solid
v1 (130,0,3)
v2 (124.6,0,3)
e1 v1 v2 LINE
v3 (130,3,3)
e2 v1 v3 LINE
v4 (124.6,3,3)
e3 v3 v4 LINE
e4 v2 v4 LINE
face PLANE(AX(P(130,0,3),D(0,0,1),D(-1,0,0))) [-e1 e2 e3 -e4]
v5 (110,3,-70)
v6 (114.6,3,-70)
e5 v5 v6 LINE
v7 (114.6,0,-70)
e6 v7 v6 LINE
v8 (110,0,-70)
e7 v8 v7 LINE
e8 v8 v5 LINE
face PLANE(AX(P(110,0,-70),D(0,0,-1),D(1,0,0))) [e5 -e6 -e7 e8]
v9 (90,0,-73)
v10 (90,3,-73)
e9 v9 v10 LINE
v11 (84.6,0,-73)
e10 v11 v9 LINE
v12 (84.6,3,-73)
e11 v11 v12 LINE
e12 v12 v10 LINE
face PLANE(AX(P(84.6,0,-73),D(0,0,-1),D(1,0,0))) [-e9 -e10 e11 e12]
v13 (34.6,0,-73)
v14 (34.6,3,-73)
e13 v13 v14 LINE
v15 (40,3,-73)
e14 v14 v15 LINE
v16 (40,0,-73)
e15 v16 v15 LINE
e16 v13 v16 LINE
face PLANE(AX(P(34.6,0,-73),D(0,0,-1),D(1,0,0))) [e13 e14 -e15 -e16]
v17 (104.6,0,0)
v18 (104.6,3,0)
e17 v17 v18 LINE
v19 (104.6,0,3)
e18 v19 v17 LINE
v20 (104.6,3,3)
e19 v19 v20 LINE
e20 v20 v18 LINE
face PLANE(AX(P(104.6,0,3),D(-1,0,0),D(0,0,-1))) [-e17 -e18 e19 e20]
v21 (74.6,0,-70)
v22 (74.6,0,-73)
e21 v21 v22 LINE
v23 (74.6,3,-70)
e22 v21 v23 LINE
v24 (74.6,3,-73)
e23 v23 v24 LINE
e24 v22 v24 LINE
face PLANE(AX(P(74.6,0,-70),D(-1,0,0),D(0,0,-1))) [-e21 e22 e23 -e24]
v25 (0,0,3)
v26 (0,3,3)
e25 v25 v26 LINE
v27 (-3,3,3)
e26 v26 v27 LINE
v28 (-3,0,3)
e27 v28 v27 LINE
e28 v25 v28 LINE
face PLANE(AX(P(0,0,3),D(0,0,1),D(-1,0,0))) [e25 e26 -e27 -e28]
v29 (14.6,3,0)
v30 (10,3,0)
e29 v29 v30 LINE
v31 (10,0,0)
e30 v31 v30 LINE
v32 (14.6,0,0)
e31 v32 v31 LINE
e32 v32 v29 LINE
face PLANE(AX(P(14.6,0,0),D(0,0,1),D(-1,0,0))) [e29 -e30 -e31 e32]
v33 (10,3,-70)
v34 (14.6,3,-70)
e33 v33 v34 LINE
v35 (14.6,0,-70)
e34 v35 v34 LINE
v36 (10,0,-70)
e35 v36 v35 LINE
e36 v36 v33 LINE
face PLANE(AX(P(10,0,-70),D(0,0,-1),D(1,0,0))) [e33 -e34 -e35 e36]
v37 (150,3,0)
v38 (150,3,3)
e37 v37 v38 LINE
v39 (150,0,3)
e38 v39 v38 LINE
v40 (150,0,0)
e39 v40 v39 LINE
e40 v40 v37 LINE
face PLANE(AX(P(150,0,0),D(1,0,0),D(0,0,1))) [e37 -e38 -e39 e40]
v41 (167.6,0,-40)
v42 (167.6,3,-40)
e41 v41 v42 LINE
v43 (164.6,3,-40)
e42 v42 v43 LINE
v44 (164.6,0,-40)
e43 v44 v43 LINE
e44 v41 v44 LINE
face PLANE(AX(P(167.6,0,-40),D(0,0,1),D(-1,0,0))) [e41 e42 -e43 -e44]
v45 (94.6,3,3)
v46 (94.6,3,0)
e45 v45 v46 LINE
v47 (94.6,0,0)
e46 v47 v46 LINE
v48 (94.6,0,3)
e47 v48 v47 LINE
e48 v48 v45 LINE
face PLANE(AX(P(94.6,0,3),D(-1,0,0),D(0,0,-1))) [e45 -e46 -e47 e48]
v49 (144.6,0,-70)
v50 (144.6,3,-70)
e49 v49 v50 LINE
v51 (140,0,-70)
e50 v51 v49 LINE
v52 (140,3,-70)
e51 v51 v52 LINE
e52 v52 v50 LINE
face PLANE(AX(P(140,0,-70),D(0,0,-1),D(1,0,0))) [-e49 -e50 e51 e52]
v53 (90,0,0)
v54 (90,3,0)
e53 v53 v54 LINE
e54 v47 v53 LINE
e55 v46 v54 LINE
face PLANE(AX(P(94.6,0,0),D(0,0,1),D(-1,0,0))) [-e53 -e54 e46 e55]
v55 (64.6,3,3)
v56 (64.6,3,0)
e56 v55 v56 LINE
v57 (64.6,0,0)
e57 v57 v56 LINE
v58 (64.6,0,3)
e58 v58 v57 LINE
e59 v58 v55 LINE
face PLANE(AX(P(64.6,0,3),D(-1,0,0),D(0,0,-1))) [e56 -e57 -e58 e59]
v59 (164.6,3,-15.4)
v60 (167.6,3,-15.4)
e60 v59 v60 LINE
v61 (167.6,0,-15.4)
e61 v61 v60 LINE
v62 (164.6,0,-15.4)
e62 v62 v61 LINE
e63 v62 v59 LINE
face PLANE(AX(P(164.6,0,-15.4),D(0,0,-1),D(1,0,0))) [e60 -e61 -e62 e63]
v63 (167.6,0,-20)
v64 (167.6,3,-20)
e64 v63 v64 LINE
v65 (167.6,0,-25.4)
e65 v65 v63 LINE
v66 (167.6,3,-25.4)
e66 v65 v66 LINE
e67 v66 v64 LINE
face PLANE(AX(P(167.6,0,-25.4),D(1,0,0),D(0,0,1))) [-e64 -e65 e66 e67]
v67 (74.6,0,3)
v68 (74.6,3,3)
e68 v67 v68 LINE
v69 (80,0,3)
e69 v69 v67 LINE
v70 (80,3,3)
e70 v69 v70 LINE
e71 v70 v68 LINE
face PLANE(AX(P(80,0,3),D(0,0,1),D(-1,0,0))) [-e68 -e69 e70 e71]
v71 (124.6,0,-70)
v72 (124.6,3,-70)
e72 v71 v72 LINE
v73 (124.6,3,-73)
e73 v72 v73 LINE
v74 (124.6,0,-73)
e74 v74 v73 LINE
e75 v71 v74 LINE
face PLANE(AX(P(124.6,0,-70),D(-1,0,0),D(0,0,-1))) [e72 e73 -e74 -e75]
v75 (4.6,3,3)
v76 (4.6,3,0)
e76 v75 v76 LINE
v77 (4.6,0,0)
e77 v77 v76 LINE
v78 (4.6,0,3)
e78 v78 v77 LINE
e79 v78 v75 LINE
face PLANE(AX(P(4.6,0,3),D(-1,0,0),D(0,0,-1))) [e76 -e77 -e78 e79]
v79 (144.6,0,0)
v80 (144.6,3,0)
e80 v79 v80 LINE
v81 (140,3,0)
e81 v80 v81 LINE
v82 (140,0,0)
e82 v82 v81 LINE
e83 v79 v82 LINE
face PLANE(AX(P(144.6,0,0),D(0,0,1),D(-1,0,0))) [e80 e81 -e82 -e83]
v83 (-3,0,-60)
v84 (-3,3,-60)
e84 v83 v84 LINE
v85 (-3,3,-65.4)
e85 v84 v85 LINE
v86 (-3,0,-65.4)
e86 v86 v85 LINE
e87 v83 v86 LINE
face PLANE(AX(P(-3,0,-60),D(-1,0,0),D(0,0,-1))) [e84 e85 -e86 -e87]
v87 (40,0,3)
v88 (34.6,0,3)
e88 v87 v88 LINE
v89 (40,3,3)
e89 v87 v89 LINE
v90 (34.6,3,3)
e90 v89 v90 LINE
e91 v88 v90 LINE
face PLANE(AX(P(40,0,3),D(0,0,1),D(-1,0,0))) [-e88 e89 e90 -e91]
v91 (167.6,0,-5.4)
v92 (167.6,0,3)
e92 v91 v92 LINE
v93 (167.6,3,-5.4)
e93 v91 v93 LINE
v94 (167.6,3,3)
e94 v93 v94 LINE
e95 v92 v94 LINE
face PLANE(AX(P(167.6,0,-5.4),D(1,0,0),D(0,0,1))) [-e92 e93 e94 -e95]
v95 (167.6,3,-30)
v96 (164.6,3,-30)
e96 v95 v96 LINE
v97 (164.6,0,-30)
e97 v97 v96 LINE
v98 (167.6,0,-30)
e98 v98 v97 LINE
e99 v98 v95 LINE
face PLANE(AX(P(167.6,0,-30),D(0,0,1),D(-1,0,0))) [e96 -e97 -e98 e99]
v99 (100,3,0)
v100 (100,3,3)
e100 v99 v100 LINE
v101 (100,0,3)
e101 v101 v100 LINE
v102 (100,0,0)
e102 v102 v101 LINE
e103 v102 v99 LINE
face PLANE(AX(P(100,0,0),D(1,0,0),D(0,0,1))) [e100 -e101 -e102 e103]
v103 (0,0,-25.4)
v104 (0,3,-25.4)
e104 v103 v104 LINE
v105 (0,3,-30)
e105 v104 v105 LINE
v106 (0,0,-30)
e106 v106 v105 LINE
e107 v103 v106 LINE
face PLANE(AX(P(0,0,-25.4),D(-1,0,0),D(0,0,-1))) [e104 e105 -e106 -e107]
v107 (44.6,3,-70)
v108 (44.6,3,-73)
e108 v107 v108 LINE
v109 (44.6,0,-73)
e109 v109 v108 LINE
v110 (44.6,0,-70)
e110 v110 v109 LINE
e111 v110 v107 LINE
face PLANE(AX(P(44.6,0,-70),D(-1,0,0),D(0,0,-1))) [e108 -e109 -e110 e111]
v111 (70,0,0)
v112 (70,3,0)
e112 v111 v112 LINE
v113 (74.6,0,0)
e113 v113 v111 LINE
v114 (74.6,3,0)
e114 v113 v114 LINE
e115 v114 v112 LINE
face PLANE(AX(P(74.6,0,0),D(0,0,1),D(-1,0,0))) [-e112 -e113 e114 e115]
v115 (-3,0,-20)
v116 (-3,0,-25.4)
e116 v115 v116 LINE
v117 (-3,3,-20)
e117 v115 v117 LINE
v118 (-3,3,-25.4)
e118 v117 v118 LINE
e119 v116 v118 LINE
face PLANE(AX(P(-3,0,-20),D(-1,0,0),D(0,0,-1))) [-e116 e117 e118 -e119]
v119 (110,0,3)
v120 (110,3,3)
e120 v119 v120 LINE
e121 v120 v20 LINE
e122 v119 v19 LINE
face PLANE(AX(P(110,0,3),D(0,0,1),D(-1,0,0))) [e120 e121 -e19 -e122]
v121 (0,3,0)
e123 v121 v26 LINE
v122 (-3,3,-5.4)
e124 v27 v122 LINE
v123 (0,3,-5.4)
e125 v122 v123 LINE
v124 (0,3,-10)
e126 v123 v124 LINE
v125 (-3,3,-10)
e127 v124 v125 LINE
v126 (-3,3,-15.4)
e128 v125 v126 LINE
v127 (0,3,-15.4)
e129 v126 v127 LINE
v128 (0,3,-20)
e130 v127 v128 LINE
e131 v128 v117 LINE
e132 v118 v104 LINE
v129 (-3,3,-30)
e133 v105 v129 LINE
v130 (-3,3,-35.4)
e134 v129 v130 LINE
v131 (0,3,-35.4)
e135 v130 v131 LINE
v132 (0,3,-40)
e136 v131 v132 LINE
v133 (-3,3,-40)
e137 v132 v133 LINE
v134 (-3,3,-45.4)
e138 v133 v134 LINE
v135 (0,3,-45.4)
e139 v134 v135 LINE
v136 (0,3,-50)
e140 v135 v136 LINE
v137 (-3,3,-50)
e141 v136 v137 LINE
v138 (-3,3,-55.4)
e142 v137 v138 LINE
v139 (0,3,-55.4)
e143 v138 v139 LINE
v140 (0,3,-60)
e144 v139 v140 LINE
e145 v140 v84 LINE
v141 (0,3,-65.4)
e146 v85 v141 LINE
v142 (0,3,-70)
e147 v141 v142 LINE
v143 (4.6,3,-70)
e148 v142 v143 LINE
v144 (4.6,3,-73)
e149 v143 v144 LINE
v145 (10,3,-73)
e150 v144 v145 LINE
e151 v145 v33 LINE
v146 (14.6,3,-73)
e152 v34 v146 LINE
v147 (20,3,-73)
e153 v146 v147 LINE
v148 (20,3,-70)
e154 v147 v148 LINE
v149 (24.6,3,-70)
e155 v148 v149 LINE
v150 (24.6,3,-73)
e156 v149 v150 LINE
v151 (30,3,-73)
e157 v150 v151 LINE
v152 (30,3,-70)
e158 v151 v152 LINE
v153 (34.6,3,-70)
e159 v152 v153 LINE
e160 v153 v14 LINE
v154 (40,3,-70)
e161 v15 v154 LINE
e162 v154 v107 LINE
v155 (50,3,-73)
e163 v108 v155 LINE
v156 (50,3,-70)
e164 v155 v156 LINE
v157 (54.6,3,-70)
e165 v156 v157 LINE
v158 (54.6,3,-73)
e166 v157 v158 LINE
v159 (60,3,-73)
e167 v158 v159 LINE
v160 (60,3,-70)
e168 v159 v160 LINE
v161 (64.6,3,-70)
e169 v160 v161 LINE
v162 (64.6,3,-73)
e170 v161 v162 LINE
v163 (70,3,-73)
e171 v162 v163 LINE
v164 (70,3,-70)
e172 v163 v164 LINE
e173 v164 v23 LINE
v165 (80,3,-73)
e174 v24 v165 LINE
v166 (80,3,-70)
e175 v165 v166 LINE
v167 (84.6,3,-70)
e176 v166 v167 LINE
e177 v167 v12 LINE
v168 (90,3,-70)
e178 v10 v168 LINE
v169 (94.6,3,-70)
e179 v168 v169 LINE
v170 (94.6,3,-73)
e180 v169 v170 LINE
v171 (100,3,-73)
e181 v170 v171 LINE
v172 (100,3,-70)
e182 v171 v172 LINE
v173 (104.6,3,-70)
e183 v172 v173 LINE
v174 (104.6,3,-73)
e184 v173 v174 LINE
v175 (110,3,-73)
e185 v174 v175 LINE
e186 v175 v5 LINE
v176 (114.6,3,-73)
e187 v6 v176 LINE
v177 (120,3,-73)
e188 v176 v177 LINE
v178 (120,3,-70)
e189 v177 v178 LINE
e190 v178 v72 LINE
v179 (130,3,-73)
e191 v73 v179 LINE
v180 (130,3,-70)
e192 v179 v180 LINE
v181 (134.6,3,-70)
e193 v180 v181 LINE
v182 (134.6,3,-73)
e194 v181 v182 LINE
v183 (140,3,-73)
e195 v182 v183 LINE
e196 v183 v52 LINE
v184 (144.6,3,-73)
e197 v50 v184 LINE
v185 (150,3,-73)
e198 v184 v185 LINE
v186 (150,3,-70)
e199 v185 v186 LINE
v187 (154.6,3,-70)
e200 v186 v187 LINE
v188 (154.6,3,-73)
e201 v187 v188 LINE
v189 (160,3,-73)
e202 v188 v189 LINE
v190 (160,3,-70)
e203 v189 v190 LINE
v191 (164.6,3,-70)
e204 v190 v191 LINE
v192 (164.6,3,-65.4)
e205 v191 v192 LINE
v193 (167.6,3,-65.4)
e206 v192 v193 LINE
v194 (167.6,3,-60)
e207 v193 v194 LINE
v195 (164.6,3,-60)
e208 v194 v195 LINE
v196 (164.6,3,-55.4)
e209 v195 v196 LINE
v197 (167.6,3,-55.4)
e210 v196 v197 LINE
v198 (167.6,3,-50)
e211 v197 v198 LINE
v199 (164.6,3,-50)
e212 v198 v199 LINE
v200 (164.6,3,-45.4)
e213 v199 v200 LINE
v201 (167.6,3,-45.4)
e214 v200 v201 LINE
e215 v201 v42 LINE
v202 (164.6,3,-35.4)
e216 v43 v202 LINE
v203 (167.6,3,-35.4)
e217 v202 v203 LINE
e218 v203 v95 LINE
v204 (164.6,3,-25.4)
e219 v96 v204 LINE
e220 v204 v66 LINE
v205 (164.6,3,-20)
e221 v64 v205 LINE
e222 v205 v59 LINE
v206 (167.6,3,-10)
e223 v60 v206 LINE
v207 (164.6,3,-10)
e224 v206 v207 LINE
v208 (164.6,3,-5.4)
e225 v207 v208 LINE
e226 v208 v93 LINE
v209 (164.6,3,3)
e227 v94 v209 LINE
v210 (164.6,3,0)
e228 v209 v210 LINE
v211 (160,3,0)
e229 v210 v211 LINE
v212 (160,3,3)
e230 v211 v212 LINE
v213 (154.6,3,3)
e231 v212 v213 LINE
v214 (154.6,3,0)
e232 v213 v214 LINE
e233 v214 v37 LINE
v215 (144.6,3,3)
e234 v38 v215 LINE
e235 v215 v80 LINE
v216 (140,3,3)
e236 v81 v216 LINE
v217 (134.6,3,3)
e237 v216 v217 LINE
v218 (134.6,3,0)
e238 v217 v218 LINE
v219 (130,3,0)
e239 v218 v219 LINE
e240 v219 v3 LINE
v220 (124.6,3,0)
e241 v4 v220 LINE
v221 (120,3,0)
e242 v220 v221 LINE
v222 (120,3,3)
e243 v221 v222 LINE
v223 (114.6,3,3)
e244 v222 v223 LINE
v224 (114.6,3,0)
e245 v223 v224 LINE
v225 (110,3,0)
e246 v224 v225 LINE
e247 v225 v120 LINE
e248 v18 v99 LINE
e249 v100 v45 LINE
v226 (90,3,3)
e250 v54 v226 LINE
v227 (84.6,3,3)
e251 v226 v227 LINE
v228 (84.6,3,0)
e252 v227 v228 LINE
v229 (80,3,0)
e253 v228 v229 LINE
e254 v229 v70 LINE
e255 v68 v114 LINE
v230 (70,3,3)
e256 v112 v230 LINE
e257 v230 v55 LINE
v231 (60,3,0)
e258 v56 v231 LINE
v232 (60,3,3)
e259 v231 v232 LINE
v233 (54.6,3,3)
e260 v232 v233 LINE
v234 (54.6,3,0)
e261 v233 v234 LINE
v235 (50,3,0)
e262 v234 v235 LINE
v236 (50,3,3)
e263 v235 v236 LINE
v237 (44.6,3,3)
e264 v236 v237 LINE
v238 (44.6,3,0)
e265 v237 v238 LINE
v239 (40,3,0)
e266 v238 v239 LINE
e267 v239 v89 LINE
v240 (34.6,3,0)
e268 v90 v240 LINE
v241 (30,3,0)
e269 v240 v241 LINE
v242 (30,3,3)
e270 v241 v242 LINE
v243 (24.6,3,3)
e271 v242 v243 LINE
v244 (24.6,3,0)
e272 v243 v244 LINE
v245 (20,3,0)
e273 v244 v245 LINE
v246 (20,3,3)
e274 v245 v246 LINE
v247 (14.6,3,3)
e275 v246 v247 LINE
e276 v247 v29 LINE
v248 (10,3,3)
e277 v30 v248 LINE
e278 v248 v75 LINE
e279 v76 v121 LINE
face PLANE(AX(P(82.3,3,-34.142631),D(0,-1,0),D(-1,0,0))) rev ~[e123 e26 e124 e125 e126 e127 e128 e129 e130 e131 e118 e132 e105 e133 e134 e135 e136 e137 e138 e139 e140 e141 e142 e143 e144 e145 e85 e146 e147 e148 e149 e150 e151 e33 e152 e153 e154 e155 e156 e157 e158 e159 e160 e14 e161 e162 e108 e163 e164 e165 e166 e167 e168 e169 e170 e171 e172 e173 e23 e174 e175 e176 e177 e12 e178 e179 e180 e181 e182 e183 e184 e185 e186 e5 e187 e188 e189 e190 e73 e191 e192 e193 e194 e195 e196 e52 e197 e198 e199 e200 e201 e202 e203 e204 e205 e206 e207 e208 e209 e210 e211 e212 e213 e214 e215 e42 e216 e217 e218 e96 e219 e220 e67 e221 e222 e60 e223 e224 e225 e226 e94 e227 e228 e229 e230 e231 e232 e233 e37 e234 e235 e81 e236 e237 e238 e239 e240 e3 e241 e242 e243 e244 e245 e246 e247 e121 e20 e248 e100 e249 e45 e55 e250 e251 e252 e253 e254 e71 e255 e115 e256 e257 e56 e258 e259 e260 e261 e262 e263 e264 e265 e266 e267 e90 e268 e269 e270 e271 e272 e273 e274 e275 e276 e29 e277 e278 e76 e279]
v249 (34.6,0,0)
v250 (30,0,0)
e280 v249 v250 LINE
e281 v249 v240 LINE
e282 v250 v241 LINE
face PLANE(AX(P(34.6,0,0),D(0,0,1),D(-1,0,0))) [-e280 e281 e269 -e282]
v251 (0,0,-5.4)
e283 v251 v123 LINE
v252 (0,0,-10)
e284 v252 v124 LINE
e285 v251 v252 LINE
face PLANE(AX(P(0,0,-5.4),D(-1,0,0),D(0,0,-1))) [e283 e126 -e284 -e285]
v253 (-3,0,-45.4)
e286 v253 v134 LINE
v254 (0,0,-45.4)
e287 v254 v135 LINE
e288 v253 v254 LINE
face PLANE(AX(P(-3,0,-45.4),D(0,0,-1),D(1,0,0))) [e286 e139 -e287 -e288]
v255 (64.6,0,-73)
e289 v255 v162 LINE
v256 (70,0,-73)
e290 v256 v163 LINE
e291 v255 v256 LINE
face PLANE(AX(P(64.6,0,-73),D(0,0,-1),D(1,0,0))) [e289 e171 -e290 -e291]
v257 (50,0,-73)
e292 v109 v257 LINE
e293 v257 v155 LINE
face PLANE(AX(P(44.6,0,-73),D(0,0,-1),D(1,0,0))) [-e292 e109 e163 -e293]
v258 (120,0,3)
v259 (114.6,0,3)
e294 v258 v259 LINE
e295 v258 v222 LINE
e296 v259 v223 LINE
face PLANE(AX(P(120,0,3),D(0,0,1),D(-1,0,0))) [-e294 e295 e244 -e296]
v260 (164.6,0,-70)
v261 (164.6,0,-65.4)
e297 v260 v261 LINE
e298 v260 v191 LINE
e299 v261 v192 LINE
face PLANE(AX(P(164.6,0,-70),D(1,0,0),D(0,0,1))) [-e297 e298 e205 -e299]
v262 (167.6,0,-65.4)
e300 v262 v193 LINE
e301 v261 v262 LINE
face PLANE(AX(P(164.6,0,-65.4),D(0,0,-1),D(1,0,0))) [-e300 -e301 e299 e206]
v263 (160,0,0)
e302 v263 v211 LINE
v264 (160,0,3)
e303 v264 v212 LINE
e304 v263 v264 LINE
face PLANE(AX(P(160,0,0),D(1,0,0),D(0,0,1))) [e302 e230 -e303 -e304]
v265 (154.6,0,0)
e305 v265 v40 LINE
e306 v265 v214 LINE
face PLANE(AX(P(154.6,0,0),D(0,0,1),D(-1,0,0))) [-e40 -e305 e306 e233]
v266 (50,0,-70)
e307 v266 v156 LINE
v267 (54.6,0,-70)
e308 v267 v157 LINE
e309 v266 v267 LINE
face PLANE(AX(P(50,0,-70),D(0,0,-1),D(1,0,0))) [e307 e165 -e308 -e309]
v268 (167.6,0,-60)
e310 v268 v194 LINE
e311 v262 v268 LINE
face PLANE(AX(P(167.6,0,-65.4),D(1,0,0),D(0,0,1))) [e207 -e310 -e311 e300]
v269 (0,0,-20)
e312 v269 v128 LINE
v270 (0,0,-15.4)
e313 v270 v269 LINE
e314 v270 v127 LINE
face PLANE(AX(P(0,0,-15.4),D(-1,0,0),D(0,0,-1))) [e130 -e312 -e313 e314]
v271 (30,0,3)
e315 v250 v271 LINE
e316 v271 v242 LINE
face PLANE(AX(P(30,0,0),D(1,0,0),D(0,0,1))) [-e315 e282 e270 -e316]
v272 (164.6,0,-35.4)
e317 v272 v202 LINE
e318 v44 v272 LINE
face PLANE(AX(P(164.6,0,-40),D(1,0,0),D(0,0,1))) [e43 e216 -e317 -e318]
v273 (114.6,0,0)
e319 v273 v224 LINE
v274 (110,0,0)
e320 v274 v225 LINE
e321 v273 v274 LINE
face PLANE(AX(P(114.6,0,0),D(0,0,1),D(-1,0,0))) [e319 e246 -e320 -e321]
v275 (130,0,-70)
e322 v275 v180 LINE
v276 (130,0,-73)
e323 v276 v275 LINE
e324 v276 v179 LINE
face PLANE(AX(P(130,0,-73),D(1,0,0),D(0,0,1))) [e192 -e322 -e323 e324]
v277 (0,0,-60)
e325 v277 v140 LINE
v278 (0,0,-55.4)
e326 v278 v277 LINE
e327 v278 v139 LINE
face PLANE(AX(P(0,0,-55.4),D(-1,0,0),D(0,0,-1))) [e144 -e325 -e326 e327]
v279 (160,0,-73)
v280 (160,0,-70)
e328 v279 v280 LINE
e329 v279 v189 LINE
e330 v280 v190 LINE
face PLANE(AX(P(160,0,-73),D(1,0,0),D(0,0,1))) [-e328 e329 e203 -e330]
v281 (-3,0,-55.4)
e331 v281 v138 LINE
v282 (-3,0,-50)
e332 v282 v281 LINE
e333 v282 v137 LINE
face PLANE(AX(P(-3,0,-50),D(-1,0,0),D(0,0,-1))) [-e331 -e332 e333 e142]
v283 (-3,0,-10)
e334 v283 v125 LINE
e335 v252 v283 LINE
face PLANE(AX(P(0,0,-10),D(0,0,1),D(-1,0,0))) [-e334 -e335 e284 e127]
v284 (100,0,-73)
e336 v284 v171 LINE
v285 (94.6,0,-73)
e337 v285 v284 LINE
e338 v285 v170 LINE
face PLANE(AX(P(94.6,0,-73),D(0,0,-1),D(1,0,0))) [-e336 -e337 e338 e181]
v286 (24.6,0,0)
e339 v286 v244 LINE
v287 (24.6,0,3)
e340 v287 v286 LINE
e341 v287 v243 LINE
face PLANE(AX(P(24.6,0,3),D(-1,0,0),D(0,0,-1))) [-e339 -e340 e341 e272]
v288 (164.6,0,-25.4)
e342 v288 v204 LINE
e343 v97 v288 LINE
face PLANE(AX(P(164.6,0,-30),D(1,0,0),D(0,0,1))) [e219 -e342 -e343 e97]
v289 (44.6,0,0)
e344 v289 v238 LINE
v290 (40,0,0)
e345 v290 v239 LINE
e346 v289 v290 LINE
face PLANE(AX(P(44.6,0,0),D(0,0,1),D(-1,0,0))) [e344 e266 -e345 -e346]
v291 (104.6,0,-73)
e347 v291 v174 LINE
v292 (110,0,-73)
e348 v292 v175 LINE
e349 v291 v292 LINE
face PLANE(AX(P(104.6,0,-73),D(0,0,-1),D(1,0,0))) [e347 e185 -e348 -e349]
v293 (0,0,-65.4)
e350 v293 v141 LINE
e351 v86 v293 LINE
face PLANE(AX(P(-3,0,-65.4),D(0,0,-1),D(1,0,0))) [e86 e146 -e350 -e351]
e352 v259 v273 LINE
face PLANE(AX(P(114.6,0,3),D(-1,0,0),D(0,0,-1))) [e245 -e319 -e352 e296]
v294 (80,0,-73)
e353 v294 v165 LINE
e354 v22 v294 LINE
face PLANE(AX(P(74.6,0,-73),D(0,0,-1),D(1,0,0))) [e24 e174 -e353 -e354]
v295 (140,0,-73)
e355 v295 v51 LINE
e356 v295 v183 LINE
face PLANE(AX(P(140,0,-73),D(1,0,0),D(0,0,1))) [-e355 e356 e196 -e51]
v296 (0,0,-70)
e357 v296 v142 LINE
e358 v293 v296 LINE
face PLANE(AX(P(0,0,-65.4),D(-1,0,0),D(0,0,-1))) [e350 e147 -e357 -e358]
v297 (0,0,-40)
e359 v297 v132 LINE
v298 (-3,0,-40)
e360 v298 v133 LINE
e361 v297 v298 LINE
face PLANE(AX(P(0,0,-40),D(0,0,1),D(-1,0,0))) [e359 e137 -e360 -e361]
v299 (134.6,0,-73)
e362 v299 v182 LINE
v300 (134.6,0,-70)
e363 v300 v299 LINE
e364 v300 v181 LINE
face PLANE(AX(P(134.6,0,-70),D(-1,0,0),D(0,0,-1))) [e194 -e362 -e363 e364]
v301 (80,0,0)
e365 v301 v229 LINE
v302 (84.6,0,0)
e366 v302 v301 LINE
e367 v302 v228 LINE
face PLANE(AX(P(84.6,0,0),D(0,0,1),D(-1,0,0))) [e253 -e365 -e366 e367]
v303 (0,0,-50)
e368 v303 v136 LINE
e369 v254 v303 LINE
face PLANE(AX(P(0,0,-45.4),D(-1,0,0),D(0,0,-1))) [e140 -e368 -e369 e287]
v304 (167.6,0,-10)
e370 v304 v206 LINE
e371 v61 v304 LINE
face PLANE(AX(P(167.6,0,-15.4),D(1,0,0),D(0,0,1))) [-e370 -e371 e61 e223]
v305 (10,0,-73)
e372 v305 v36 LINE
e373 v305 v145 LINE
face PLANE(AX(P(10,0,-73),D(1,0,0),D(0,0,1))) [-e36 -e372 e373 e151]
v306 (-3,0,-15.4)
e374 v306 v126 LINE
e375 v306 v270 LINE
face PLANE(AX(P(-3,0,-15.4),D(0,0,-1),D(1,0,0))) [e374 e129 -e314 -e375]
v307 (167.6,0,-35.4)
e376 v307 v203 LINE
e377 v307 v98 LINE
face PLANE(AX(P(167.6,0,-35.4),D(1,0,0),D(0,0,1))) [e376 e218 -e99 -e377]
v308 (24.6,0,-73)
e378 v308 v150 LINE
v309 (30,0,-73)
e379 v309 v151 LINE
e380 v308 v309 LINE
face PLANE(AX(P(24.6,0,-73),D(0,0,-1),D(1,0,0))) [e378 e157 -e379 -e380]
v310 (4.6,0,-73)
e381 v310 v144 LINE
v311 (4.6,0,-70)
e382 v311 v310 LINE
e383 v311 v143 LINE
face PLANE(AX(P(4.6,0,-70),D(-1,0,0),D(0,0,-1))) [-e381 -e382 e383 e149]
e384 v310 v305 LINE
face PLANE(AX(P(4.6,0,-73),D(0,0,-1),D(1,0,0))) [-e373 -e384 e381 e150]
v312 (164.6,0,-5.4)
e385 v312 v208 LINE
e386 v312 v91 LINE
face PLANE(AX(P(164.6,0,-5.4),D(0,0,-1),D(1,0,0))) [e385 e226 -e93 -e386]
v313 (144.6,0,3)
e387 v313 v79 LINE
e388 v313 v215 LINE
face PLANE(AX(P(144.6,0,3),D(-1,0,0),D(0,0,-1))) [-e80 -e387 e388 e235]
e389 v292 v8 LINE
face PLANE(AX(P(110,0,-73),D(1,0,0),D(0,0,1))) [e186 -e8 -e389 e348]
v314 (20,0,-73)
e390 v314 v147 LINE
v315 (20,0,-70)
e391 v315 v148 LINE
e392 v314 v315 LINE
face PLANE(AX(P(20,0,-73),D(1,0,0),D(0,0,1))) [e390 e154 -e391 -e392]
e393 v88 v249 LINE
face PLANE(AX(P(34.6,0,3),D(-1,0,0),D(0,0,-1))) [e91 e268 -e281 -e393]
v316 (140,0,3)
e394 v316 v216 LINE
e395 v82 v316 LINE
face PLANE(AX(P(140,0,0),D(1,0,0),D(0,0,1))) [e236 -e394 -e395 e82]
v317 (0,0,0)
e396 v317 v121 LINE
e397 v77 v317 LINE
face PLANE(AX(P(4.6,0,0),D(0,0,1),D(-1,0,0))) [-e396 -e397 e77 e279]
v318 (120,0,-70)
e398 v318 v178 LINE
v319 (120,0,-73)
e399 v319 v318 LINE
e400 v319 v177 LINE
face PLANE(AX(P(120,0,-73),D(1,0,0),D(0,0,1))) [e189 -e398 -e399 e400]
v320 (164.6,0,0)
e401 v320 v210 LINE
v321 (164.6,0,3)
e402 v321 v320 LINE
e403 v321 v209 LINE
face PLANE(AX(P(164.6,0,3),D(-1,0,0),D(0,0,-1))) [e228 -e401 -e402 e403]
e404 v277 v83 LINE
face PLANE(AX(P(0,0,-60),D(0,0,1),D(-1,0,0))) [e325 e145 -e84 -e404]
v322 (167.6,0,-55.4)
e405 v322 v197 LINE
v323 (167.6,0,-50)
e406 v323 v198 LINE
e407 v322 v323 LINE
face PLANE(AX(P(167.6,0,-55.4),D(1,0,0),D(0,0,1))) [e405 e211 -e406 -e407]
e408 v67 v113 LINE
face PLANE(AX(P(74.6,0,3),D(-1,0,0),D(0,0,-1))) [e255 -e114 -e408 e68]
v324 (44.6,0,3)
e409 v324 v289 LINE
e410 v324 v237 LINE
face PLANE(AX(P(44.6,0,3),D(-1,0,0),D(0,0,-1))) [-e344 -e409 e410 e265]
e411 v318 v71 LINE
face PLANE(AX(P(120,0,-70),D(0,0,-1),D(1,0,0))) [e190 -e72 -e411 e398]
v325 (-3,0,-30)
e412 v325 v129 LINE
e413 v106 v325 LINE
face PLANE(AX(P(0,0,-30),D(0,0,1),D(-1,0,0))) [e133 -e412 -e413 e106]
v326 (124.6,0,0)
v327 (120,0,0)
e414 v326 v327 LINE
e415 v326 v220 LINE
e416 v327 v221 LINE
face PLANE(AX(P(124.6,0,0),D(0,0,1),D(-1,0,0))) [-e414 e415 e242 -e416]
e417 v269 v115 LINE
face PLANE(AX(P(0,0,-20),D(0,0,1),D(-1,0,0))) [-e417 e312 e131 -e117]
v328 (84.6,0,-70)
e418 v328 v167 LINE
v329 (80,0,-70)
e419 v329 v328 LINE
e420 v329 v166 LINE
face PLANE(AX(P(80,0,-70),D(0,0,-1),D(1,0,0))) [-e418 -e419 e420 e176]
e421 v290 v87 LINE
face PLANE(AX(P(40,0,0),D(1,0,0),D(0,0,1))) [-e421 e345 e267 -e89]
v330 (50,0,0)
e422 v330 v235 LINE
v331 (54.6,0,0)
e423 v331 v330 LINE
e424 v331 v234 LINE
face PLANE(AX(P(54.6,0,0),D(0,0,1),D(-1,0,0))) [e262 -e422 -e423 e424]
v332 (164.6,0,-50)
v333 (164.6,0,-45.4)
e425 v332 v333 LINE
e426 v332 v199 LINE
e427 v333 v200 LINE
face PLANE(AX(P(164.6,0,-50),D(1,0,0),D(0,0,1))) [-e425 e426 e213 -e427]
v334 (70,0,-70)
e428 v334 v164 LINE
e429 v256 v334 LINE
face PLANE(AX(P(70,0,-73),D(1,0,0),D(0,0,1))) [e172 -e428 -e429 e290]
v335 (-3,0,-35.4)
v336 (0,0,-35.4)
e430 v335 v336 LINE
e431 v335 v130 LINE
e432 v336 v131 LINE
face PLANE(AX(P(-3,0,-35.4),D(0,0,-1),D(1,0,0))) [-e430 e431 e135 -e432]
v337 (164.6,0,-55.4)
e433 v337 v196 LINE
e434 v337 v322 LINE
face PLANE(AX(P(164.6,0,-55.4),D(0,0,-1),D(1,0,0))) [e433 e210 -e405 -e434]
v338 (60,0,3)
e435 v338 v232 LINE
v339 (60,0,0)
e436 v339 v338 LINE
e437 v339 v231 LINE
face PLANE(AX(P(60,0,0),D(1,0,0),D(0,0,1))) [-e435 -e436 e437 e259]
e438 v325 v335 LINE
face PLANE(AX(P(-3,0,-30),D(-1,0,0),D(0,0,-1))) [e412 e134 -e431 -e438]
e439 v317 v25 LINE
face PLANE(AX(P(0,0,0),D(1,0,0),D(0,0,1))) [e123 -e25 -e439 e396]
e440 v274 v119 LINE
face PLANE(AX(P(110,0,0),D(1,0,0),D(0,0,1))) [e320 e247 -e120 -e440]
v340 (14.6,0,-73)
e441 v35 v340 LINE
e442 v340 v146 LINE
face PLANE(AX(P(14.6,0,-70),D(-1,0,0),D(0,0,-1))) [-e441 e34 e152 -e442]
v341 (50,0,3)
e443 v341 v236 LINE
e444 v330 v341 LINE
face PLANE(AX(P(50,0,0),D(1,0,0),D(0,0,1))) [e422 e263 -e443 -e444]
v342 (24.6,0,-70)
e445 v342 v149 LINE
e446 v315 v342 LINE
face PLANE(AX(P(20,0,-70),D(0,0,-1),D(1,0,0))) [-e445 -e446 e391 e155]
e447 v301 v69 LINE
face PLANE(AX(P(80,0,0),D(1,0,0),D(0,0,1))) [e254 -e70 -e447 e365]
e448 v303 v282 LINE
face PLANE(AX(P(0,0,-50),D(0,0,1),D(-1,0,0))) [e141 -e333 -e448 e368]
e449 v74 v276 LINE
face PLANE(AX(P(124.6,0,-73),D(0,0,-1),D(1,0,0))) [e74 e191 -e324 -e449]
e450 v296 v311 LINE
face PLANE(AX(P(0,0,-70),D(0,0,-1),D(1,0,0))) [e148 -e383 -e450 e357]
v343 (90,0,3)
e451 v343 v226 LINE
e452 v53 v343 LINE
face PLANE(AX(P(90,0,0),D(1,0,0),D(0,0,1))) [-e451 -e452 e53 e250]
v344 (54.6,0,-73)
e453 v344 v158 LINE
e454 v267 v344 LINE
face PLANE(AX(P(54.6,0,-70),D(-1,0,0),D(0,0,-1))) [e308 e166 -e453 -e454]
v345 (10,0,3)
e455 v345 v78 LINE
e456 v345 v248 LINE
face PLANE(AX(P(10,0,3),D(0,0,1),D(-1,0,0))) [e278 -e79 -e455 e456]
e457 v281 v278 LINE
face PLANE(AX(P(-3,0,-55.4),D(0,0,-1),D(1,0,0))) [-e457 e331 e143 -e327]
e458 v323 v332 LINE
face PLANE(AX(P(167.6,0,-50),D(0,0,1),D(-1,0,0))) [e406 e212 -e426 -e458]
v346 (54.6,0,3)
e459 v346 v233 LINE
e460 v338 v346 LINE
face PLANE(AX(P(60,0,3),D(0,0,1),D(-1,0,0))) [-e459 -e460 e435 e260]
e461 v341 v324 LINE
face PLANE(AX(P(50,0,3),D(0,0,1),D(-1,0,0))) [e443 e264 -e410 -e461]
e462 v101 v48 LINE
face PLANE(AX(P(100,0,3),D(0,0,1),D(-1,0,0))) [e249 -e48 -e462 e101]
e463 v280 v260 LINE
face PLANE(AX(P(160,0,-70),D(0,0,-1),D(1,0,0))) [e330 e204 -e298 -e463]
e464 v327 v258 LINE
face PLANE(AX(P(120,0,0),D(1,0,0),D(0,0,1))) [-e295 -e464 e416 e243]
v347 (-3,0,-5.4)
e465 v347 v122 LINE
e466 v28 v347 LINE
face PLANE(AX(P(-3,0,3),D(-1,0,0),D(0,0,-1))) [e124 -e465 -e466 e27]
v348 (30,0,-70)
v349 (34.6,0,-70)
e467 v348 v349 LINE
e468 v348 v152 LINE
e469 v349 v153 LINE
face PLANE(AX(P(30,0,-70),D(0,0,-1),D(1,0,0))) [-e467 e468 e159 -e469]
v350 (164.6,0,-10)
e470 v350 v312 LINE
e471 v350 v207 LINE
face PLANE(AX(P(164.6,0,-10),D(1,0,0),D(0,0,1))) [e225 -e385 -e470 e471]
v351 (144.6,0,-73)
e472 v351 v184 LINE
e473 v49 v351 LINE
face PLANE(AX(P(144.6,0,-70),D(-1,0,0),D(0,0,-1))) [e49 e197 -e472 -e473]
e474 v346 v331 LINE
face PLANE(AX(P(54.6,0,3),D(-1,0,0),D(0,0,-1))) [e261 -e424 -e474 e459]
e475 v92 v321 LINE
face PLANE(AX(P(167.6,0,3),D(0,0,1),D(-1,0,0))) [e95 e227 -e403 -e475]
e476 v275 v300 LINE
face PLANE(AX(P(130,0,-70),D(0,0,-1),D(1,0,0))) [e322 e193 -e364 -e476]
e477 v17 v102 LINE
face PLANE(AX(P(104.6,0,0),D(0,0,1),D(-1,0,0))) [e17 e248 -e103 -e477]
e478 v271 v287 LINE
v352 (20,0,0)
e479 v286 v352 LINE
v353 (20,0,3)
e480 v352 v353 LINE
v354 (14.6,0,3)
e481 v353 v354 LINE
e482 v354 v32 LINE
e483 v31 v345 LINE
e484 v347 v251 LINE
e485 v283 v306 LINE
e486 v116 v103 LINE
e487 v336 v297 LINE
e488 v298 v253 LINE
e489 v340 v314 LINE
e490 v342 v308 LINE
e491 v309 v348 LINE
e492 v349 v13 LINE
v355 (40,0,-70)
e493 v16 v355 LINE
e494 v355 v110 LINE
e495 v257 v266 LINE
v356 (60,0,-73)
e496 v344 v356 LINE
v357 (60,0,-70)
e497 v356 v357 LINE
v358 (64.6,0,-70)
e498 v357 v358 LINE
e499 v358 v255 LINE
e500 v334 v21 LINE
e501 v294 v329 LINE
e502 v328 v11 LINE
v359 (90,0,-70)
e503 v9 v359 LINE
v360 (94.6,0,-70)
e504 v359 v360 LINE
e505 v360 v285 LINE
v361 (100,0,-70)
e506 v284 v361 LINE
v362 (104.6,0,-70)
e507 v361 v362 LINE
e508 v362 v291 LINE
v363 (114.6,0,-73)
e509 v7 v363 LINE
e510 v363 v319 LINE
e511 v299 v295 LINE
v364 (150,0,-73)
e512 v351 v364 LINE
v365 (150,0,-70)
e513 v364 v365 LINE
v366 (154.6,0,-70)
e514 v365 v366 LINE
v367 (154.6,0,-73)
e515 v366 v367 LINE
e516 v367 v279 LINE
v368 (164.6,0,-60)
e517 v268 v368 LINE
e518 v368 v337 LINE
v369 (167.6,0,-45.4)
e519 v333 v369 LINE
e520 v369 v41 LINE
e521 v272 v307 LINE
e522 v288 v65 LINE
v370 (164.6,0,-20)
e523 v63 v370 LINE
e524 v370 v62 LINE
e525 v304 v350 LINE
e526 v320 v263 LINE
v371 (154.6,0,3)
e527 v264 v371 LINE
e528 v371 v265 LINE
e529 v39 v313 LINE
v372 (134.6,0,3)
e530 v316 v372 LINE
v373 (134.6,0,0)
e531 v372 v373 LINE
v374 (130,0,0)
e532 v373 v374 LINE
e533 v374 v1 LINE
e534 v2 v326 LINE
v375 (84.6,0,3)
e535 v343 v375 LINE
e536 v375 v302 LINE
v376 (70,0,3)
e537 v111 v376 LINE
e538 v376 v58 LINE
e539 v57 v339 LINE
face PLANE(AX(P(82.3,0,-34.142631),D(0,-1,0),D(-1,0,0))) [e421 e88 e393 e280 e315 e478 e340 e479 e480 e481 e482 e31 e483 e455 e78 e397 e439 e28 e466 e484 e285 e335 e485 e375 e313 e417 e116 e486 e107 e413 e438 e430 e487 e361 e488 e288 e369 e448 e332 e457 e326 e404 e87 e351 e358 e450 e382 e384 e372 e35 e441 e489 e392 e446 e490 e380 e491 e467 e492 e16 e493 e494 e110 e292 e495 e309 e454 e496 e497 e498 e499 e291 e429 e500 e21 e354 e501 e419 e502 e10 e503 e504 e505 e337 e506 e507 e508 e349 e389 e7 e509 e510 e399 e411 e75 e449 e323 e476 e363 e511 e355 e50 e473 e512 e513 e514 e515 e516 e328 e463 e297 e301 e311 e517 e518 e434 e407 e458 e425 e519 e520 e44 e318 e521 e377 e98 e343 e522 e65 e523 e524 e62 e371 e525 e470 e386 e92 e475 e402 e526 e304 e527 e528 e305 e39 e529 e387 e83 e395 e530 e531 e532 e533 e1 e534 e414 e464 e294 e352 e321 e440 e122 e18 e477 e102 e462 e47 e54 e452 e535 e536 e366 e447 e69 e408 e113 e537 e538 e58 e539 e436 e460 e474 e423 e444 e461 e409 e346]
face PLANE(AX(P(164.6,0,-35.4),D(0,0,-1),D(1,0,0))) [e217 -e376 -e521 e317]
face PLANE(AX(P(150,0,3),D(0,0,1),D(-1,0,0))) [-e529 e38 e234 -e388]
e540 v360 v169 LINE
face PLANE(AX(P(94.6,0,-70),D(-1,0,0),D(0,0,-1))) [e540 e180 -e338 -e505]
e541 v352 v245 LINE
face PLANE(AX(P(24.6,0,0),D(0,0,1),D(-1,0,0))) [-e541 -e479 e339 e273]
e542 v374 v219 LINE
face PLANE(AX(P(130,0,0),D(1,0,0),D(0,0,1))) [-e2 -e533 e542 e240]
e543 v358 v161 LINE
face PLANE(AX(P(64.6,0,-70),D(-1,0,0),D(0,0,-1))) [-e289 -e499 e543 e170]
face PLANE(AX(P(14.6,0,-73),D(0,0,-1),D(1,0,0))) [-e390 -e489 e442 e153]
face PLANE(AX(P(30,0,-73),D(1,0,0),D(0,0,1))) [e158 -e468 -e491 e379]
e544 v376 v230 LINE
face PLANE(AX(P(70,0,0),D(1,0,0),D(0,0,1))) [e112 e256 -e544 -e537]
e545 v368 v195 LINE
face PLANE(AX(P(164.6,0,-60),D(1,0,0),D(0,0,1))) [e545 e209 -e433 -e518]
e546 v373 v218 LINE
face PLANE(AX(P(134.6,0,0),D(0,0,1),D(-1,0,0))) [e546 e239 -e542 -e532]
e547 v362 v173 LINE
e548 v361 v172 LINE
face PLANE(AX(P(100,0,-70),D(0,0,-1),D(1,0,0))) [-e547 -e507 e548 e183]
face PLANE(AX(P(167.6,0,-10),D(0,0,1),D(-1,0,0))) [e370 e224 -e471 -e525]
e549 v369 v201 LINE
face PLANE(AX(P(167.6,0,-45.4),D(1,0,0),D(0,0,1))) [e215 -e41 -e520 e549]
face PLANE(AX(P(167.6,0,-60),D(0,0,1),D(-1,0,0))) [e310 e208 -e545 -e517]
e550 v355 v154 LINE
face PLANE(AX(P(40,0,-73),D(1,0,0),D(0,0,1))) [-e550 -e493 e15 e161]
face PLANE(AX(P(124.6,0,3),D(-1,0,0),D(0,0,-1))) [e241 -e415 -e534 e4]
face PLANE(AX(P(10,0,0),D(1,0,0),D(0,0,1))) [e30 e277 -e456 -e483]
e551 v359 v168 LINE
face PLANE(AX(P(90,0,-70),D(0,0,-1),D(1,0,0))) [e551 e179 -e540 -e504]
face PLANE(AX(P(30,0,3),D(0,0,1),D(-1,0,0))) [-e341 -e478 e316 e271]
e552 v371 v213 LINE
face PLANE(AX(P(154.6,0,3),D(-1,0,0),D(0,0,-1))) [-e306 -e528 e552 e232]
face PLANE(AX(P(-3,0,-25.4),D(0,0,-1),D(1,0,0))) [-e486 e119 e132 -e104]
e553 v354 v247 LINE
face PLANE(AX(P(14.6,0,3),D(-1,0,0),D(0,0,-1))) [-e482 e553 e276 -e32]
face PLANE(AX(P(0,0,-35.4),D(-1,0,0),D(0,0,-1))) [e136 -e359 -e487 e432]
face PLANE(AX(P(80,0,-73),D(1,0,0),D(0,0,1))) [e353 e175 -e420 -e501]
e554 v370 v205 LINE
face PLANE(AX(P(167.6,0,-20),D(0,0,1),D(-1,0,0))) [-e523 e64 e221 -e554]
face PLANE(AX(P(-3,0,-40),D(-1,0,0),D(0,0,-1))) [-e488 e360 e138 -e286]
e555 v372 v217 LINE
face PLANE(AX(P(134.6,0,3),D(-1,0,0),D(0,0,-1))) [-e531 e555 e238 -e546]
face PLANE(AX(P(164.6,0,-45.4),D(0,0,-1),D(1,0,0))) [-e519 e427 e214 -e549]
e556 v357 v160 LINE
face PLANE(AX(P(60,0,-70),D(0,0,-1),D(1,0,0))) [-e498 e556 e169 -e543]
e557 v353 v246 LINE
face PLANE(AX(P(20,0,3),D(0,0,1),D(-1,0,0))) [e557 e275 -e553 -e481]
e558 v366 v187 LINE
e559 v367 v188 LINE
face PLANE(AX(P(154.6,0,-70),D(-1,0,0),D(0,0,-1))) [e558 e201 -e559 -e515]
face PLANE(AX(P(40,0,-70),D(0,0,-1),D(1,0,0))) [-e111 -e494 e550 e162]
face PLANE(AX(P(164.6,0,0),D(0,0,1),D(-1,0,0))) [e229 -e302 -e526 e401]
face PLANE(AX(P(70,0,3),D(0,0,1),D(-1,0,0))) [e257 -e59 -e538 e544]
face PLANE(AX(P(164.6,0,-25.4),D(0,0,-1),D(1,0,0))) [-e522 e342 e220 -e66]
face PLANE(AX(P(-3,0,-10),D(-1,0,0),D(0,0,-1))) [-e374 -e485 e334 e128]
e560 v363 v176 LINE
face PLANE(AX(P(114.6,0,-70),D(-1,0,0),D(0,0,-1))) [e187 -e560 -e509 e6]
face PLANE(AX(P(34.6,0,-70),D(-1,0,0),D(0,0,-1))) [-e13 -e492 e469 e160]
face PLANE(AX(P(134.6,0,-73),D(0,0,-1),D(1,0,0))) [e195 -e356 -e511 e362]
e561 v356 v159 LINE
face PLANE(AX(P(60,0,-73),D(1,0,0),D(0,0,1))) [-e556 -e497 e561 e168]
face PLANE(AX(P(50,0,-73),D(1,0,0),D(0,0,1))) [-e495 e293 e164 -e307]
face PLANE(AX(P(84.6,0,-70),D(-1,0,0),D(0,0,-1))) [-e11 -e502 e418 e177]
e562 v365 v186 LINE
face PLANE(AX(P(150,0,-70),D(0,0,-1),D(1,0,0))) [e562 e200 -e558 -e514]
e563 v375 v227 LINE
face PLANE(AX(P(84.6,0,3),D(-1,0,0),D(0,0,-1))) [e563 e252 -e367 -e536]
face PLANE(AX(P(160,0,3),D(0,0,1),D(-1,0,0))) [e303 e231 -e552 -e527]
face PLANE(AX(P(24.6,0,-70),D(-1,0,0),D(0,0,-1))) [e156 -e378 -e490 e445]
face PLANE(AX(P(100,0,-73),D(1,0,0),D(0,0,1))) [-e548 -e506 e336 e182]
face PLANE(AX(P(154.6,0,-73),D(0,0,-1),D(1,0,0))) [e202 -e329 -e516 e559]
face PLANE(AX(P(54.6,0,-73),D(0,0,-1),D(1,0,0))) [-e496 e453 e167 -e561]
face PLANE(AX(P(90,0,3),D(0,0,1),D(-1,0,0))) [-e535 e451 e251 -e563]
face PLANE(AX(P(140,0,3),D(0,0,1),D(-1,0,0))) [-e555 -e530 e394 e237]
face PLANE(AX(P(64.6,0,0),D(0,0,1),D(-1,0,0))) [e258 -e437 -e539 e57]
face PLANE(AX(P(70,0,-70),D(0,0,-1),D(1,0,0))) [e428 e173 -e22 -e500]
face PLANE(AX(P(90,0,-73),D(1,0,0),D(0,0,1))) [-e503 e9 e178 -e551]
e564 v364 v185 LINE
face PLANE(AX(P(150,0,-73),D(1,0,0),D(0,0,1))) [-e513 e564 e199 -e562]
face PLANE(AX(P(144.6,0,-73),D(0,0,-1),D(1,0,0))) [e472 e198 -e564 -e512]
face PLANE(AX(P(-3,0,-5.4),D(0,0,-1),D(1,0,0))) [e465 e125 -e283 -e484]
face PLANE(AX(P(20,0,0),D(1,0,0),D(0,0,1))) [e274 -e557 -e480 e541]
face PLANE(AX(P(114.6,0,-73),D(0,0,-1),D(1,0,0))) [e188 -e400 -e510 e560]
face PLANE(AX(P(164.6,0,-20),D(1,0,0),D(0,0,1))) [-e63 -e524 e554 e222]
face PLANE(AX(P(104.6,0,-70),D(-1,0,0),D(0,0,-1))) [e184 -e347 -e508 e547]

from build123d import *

# Parameters (mm, degrees)
EXTRUDE_1_DEPTH = 3


with BuildPart() as part:
    # Эскиз1 → Бобышка-Вытянуть1 (new body)
    with BuildSketch(Plane(origin=(0, 0, 0), x_dir=(1, 0, 0), z_dir=(0, 1, 0))):
        Polygon((4.6, 70), (4.6, 73), (10, 73), (10, 70), (14.6, 70), (14.6, 73), (20, 73), (20, 70), (24.6, 70), (24.6, 73), (30, 73), (30, 70), (34.6, 70), (34.6, 73), (40, 73), (40, 70), (44.6, 70), (44.6, 73), (50, 73), (50, 70), (54.6, 70), (54.6, 73), (60, 73), (60, 70), (64.6, 70), (64.6, 73), (70, 73), (70, 70), (74.6, 70), (74.6, 73), (80, 73), (80, 70), (84.6, 70), (84.6, 73), (90, 73), (90, 70), (94.6, 70), (94.6, 73), (100, 73), (100, 70), (104.6, 70), (104.6, 73), (110, 73), (110, 70), (114.6, 70), (114.6, 73), (120, 73), (120, 70), (124.6, 70), (124.6, 73), (130, 73), (130, 70), (134.6, 70), (134.6, 73), (140, 73), (140, 70), (144.6, 70), (144.6, 73), (150, 73), (150, 70), (154.6, 70), (154.6, 73), (160, 73), (160, 70), (164.6, 70), (164.6, 65.4), (167.6, 65.4), (167.6, 60), (164.6, 60), (164.6, 55.4), (167.6, 55.4), (167.6, 50), (164.6, 50), (164.6, 45.4), (167.6, 45.4), (167.6, 40), (164.6, 40), (164.6, 35.4), (167.6, 35.4), (167.6, 30), (164.6, 30), (164.6, 25.4), (167.6, 25.4), (167.6, 20), (164.6, 20), (164.6, 15.4), (167.6, 15.4), (167.6, 10), (164.6, 10), (164.6, 5.4), (167.6, 5.4), (167.6, -3), (164.6, -3), (164.6, 0), (160, 0), (160, -3), (154.6, -3), (154.6, 0), (150, 0), (150, -3), (144.6, -3), (144.6, 0), (140, 0), (140, -3), (134.6, -3), (134.6, 0), (130, 0), (130, -3), (124.6, -3), (124.6, 0), (120, 0), (120, -3), (114.6, -3), (114.6, 0), (110, 0), (110, -3), (104.6, -3), (104.6, 0), (100, 0), (100, -3), (94.6, -3), (94.6, 0), (90, 0), (90, -3), (84.6, -3), (84.6, 0), (80, 0), (80, -3), (74.6, -3), (74.6, 0), (70, 0), (70, -3), (64.6, -3), (64.6, 0), (60, 0), (60, -3), (54.6, -3), (54.6, 0), (50, 0), (50, -3), (44.6, -3), (44.6, 0), (40, 0), (40, -3), (34.6, -3), (34.6, 0), (30, 0), (30, -3), (24.6, -3), (24.6, 0), (20, 0), (20, -3), (14.6, -3), (14.6, 0), (10, 0), (10, -3), (4.6, -3), (4.6, 0), (0, 0), (0, -3), (-3, -3), (-3, 5.4), (0, 5.4), (0, 10), (-3, 10), (-3, 15.4), (0, 15.4), (0, 20), (-3, 20), (-3, 25.4), (0, 25.4), (0, 30), (-3, 30), (-3, 35.4), (0, 35.4), (0, 40), (-3, 40), (-3, 45.4), (0, 45.4), (0, 50), (-3, 50), (-3, 55.4), (0, 55.4), (0, 60), (-3, 60), (-3, 65.4), (0, 65.4), (0, 70), align=None)
    extrude(amount=EXTRUDE_1_DEPTH)


solid = part.part
